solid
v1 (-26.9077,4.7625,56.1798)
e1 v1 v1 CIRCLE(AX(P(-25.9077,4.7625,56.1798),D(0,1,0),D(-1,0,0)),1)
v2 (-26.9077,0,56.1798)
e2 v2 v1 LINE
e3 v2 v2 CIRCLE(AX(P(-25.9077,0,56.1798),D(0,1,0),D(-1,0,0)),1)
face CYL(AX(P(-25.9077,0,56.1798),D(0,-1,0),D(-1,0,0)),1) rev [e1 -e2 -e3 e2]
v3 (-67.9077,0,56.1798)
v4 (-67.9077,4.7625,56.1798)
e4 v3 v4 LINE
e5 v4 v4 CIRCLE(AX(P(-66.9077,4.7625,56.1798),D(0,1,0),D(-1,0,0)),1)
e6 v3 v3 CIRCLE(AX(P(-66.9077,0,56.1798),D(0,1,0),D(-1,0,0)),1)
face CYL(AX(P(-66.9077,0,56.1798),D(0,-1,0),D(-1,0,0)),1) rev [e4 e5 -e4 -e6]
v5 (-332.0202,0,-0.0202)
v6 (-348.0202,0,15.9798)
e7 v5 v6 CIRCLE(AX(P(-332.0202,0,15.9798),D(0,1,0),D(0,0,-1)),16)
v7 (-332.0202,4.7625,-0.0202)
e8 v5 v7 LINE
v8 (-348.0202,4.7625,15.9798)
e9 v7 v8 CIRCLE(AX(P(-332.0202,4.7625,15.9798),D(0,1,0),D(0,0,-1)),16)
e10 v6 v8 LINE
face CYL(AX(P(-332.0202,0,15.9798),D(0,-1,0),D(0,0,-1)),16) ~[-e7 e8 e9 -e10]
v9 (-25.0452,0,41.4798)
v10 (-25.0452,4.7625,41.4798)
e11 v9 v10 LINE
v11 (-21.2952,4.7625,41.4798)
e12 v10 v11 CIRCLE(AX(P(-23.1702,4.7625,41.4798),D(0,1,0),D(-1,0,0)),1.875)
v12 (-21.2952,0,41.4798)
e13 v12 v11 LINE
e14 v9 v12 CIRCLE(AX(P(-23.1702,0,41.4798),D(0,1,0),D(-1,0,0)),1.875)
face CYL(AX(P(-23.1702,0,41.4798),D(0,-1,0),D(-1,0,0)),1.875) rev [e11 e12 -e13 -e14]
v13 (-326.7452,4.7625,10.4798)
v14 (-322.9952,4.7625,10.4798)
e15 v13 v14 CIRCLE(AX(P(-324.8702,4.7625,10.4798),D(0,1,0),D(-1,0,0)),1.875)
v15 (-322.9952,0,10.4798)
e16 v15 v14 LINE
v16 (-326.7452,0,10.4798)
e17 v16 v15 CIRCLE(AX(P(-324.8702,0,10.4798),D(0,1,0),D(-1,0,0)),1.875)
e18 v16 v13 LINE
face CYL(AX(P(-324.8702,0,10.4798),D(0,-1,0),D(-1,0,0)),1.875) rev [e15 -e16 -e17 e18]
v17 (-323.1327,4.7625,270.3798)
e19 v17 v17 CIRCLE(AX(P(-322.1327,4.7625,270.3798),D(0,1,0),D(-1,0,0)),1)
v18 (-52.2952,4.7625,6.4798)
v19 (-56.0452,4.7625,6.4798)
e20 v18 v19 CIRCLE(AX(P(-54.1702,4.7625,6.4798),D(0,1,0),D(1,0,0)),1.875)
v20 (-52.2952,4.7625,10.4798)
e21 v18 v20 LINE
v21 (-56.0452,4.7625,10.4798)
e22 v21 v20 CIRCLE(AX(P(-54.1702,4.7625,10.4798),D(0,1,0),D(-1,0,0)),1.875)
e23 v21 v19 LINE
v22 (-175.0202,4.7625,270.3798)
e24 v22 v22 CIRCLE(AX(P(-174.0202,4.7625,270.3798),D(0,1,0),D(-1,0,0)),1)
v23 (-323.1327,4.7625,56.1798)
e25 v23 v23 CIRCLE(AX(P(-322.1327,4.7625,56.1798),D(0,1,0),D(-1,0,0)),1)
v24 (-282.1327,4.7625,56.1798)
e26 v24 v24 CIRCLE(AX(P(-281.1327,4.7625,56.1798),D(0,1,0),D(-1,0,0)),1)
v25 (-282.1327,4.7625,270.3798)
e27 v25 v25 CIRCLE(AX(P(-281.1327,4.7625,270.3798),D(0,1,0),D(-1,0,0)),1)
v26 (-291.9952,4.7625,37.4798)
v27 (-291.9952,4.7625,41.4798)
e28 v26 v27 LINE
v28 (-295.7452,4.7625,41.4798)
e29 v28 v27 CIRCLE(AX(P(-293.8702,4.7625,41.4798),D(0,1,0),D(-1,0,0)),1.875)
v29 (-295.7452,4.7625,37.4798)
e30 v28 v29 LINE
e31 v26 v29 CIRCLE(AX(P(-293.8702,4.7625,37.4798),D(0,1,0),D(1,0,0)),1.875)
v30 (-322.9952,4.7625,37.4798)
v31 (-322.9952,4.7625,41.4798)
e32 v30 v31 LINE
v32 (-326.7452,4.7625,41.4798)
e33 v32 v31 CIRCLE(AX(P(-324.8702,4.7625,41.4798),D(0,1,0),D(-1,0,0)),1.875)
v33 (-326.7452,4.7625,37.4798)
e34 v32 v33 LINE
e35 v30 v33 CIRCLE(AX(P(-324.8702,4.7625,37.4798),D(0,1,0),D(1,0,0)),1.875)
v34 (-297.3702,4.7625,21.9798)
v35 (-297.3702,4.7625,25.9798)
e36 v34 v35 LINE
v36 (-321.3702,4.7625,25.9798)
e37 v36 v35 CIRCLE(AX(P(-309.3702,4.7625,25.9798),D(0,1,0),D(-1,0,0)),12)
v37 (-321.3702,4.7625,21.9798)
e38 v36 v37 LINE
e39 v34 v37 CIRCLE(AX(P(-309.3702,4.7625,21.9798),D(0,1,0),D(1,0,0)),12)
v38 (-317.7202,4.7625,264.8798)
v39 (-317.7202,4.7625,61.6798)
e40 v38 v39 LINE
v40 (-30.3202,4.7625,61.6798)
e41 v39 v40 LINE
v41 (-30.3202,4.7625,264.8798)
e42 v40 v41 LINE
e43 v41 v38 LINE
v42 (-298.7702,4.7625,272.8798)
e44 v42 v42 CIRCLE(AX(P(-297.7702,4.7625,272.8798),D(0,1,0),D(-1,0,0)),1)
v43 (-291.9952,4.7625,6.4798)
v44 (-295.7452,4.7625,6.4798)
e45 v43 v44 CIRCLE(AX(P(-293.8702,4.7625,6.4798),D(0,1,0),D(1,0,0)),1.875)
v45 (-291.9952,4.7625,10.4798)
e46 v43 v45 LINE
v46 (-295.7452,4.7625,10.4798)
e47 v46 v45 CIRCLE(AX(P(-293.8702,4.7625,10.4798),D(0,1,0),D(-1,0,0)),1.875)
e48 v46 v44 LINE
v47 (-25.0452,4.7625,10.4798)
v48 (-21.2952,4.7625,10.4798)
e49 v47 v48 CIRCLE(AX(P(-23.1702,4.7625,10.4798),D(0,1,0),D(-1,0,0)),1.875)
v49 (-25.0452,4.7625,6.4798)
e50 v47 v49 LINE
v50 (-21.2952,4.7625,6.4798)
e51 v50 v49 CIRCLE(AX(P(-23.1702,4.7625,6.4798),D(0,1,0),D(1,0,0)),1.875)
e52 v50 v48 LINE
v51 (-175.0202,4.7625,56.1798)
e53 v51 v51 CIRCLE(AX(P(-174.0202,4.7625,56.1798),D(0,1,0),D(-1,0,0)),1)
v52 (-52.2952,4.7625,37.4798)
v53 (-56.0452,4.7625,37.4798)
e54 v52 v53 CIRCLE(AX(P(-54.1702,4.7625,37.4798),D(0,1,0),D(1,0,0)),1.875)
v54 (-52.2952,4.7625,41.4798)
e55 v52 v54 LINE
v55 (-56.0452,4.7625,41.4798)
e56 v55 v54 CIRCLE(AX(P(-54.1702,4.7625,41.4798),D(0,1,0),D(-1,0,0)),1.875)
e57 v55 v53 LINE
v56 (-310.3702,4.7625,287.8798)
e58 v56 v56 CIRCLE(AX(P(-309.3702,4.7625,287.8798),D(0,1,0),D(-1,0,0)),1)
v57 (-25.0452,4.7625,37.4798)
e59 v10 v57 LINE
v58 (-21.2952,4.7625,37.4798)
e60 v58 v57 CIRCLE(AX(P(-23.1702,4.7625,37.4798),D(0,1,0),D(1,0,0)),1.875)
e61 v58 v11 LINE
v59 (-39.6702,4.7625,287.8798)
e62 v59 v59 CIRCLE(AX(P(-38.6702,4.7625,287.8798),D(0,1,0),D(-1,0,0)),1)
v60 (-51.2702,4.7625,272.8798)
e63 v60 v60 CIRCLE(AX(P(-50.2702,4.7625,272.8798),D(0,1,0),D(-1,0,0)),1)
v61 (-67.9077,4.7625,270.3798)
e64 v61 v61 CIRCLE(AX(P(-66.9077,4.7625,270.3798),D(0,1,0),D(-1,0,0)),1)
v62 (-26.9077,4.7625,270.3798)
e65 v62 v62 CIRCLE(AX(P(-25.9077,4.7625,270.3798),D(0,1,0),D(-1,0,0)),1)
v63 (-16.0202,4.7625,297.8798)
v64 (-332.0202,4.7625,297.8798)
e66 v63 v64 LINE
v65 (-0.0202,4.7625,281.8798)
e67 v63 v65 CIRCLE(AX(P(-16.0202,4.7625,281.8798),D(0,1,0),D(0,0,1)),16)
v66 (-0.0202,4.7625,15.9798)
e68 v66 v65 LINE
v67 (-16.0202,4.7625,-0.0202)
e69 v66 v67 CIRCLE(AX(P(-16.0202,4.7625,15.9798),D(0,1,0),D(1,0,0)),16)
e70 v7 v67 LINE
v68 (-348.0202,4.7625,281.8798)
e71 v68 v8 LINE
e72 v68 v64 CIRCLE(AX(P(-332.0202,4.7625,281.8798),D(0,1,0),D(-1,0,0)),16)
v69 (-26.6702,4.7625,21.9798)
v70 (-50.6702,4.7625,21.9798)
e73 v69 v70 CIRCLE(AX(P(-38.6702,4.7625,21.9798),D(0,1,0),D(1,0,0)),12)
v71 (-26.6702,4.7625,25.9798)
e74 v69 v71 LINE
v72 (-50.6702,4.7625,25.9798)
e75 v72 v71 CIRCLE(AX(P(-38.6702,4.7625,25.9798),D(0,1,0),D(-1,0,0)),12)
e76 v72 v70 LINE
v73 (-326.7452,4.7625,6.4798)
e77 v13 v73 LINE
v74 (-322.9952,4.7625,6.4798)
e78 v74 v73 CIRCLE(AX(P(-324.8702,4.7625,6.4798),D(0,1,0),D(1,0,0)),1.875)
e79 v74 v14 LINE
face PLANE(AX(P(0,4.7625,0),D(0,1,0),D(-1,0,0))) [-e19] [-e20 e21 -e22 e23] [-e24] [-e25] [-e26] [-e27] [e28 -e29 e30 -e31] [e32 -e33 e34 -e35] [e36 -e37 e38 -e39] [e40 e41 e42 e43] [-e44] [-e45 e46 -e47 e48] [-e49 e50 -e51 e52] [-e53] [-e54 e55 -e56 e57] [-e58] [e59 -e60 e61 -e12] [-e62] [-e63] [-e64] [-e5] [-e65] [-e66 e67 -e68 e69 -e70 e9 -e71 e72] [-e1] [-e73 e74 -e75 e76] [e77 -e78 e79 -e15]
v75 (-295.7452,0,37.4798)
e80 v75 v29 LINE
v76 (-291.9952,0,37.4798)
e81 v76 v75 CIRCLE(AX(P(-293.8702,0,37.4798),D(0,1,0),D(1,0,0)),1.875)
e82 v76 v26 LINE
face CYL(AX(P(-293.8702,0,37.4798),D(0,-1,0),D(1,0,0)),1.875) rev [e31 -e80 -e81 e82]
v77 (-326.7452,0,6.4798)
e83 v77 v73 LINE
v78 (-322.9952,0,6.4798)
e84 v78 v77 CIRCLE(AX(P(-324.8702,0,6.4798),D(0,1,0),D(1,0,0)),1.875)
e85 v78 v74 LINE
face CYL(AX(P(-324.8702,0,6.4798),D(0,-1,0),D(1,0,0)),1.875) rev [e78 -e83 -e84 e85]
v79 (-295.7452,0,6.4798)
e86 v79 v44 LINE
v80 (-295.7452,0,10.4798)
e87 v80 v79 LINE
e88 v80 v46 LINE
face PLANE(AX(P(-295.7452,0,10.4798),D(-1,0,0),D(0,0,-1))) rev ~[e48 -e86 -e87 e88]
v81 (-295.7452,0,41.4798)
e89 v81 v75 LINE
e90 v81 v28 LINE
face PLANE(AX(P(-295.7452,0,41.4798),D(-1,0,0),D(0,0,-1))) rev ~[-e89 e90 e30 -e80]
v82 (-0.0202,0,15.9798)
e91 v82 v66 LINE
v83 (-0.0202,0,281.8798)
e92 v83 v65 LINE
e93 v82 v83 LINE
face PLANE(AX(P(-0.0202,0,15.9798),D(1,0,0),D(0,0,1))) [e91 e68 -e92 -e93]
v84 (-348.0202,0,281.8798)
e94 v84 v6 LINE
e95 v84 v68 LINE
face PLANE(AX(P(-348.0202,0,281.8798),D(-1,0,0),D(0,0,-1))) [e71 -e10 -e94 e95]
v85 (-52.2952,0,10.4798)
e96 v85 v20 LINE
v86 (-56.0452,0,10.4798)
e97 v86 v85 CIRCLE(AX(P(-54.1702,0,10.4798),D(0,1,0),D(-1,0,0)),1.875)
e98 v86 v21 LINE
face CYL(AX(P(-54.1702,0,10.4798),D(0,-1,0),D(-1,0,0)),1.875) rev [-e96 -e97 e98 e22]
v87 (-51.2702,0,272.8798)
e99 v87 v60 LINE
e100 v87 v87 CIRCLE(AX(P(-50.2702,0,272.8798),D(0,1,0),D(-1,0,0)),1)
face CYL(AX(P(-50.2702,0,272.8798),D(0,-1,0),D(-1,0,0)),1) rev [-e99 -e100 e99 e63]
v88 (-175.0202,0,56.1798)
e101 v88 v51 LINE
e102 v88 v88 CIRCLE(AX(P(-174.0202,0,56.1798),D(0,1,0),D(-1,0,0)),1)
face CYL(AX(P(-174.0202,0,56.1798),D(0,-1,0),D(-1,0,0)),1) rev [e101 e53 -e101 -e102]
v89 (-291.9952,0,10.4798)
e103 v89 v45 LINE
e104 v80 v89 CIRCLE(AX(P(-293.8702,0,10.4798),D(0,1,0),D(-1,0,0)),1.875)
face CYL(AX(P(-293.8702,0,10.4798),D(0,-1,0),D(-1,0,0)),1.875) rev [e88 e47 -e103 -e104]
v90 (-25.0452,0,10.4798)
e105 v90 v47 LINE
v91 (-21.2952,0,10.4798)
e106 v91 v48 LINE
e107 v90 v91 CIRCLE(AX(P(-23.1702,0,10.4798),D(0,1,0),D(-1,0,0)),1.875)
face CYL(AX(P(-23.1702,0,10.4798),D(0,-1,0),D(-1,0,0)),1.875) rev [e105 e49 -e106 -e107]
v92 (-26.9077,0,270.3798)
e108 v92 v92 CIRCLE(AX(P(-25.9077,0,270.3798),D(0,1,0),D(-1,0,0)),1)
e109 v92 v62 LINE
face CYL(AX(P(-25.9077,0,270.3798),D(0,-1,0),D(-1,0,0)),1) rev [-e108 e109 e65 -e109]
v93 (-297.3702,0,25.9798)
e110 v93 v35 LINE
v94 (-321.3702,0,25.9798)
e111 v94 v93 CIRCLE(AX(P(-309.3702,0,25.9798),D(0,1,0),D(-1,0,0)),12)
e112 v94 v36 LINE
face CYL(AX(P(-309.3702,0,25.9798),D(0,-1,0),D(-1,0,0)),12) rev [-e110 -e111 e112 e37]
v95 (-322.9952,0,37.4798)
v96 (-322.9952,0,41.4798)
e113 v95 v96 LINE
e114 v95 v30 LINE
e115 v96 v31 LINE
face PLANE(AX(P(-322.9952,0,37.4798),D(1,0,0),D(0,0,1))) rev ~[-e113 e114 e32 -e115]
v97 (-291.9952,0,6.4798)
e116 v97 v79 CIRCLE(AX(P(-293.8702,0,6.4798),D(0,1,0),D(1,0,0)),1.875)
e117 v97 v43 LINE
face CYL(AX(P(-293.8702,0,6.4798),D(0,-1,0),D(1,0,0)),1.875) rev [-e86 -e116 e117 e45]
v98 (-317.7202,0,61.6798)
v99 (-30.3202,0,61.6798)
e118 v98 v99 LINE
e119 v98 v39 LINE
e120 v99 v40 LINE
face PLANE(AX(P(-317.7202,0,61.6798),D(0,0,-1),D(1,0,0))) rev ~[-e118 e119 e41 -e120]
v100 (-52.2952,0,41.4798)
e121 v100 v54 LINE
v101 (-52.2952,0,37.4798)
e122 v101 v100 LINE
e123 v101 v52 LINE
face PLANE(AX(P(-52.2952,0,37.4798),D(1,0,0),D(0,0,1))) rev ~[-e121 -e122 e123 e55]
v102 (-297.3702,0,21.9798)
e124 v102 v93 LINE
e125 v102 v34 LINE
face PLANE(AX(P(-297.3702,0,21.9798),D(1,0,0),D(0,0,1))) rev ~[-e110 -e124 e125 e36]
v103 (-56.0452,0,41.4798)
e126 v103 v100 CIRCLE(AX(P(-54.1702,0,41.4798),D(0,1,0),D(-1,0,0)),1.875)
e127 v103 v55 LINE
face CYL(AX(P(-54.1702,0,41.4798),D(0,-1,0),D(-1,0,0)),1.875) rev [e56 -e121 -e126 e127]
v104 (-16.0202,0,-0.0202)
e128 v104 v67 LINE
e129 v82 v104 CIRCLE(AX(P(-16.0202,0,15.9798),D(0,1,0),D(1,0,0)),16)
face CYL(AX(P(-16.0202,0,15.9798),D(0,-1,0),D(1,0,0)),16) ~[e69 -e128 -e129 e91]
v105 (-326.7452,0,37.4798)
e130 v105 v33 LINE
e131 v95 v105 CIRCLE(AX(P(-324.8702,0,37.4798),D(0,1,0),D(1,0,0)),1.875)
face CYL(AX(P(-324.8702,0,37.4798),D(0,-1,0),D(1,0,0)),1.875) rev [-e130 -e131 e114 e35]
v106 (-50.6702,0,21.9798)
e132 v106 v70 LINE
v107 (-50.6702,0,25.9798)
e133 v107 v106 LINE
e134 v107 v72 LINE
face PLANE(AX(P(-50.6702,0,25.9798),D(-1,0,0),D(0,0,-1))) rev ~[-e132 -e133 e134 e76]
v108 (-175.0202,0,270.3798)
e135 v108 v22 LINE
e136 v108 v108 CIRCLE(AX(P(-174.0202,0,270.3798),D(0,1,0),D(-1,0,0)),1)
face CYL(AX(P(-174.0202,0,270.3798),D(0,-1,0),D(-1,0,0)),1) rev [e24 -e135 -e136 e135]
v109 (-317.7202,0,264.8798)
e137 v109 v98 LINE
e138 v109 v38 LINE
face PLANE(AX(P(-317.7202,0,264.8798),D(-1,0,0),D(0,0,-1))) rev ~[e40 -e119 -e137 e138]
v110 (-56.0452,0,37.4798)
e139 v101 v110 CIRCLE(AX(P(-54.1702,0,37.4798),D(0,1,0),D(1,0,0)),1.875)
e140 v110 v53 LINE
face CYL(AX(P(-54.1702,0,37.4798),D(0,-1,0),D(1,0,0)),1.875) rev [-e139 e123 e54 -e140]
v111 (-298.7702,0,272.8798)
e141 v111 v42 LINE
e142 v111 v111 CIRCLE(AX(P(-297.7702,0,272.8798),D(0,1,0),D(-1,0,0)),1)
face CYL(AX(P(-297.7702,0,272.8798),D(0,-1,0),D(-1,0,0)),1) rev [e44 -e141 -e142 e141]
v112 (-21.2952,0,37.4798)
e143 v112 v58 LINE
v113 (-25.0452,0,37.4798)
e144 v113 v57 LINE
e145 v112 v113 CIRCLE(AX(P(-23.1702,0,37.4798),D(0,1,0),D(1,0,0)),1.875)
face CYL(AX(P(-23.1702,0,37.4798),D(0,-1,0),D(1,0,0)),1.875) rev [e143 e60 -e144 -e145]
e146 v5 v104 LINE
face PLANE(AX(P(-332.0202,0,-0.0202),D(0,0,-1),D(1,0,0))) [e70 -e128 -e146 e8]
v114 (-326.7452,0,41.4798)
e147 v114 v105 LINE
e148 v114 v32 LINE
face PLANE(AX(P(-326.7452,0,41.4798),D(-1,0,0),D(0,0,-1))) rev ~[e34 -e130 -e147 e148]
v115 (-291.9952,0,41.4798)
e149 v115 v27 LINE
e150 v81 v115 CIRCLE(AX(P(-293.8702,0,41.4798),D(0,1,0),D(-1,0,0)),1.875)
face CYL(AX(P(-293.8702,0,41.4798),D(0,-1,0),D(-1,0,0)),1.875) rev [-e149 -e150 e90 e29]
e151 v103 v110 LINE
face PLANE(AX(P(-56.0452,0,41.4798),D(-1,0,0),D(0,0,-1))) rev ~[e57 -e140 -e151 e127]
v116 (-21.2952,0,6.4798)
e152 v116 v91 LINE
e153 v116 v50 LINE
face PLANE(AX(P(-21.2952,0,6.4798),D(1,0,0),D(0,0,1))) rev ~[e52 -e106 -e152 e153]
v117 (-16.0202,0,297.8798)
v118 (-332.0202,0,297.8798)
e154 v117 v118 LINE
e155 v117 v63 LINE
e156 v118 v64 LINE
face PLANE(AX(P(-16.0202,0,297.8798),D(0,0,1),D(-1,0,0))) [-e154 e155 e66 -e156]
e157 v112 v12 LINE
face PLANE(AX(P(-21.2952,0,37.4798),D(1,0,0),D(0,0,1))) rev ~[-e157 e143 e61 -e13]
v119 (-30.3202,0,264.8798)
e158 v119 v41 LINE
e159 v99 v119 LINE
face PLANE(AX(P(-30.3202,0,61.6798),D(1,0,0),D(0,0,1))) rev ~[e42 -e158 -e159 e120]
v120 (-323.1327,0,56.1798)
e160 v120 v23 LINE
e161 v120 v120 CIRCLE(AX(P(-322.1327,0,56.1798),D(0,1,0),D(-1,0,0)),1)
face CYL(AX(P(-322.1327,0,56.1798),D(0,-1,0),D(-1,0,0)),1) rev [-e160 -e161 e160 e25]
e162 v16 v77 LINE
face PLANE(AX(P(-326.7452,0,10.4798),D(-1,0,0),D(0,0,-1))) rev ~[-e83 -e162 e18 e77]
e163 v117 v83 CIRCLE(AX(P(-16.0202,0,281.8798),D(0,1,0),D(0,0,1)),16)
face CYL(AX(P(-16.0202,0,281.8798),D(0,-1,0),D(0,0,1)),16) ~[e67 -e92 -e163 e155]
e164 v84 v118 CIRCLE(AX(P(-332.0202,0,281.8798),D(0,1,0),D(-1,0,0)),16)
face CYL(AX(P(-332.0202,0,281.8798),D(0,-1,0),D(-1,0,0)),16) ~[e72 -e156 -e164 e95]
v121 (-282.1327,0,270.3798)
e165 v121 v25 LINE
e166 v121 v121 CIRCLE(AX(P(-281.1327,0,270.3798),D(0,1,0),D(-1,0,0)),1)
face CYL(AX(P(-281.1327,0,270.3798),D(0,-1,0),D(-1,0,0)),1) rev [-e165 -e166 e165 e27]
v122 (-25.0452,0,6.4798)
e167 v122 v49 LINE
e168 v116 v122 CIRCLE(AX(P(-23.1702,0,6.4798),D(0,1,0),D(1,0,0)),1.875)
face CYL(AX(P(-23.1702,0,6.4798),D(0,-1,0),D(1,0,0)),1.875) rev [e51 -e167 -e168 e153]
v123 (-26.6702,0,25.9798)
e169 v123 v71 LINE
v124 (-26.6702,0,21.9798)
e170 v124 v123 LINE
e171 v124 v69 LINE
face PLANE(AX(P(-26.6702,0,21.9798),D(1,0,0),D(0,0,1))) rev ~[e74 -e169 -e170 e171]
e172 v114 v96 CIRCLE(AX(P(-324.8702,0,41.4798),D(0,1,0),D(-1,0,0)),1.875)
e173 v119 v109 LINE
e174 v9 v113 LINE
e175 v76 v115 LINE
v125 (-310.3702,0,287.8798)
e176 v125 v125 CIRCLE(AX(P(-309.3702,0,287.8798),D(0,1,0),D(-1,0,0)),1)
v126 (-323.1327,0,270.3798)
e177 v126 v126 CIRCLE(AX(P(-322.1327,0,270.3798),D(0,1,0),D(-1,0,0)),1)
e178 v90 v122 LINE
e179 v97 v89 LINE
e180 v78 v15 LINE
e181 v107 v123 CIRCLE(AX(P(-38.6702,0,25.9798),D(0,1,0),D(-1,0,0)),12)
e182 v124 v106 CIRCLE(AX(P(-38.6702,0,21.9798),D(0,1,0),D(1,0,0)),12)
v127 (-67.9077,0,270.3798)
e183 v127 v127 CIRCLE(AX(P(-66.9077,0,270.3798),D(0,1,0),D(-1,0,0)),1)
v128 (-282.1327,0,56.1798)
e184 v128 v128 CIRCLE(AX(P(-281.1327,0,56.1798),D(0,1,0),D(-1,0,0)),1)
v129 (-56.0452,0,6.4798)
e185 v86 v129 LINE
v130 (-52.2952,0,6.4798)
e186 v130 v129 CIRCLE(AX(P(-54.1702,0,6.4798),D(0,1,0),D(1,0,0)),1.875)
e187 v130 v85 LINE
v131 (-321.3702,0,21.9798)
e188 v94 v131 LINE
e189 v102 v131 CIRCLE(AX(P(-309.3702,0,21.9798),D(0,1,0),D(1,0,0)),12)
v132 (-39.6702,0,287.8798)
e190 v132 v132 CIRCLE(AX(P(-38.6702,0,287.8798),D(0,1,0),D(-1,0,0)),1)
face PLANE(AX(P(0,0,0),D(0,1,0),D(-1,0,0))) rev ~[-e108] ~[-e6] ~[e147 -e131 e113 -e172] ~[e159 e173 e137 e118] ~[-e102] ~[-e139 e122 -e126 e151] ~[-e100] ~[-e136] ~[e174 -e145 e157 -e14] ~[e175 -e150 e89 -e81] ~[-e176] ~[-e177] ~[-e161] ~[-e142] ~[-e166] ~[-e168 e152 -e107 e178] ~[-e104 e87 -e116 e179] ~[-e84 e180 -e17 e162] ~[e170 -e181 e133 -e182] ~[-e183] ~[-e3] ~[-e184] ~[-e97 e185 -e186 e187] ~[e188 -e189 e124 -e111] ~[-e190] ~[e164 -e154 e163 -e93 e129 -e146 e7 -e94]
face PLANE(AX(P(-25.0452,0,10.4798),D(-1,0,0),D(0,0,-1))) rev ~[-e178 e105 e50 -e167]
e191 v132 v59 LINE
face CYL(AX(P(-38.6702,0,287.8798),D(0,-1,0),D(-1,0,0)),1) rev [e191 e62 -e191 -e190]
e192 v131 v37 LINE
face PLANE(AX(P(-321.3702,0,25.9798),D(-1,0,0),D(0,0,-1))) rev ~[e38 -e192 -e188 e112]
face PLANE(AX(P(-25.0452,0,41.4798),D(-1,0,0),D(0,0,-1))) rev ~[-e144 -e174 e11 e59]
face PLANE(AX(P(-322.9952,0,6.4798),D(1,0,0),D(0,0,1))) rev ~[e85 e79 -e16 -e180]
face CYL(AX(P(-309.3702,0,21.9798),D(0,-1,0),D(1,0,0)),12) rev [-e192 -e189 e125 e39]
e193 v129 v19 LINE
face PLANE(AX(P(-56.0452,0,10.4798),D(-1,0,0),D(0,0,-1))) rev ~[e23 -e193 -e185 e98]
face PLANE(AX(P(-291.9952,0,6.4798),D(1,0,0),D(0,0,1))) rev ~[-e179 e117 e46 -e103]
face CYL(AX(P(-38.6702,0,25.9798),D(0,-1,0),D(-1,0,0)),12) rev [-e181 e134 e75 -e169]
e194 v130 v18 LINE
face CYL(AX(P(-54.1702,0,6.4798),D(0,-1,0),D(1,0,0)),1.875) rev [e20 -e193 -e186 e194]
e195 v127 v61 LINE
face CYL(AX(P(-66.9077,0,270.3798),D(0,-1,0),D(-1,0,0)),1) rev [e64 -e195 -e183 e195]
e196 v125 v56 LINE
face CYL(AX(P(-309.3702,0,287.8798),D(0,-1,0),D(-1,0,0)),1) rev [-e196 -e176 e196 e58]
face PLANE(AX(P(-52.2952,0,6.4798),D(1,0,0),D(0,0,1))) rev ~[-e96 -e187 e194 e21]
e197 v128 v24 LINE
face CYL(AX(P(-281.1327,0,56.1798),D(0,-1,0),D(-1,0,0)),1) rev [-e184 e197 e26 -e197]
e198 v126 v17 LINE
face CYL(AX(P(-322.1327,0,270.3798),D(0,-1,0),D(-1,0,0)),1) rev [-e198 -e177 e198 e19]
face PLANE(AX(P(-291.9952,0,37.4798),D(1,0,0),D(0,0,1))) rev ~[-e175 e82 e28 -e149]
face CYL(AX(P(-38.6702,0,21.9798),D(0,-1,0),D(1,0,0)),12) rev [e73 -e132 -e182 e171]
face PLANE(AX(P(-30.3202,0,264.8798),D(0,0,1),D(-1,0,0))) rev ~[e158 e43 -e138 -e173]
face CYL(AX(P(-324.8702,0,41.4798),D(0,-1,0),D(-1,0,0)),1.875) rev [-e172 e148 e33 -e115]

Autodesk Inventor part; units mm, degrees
ref_plane "YZ Plane" through (0, 0, 0) normal (1, 0, 0) x (0, 1, 0)
ref_plane "XZ Plane" through (0, 0, 0) normal (0, 1, 0) x (-1, 0, 0)
ref_plane "XY Plane" through (0, 0, 0) normal (0, 0, 1) x (1, 0, 0)
sketch "Sketch1" plane through (0, 0, 0) normal (0, 1, 0) x (-1, 0, 0)
  line L0 (317.7202, 61.6798) -> (30.3202, 61.6798)
  line L1 (317.7202, 264.8798) -> (317.7202, 61.6798)
  line L2 (30.3202, 264.8798) -> (317.7202, 264.8798)
  line L3 (30.3202, 61.6798) -> (30.3202, 264.8798)
  arc A0 (0.0202, 15.9798) -> (16.0202, -0.0202) centre (16.0202, 15.9798) ccw
  line L4 (0.0202, 15.9798) -> (0.0202, 281.8798)
  arc A1 (16.0202, 297.8798) -> (0.0202, 281.8798) centre (16.0202, 281.8798) ccw
  line L5 (16.0202, 297.8798) -> (332.0202, 297.8798)
  arc A2 (348.0202, 281.8798) -> (332.0202, 297.8798) centre (332.0202, 281.8798) ccw
  line L6 (348.0202, 281.8798) -> (348.0202, 15.9798)
  arc A3 (332.0202, -0.0202) -> (348.0202, 15.9798) centre (332.0202, 15.9798) ccw
  line L7 (332.0202, -0.0202) -> (16.0202, -0.0202)
  arc A4 (21.2952, 6.4798) -> (25.0452, 6.4798) centre (23.1702, 6.4798) ccw
  line L8 (25.0452, 10.4798) -> (25.0452, 6.4798)
  arc A5 (25.0452, 10.4798) -> (21.2952, 10.4798) centre (23.1702, 10.4798) ccw
  line L9 (21.2952, 6.4798) -> (21.2952, 10.4798)
  arc A6 (52.2952, 6.4798) -> (56.0452, 6.4798) centre (54.1702, 6.4798) ccw
  line L10 (56.0452, 10.4798) -> (56.0452, 6.4798)
  arc A7 (56.0452, 10.4798) -> (52.2952, 10.4798) centre (54.1702, 10.4798) ccw
  line L11 (52.2952, 6.4798) -> (52.2952, 10.4798)
  arc A8 (21.2952, 37.4798) -> (25.0452, 37.4798) centre (23.1702, 37.4798) ccw
  line L12 (25.0452, 41.4798) -> (25.0452, 37.4798)
  arc A9 (25.0452, 41.4798) -> (21.2952, 41.4798) centre (23.1702, 41.4798) ccw
  line L13 (21.2952, 37.4798) -> (21.2952, 41.4798)
  arc A10 (52.2952, 37.4798) -> (56.0452, 37.4798) centre (54.1702, 37.4798) ccw
  line L14 (56.0452, 41.4798) -> (56.0452, 37.4798)
  arc A11 (56.0452, 41.4798) -> (52.2952, 41.4798) centre (54.1702, 41.4798) ccw
  line L15 (52.2952, 37.4798) -> (52.2952, 41.4798)
  arc A12 (26.6702, 21.9798) -> (50.6702, 21.9798) centre (38.6702, 21.9798) ccw
  line L16 (50.6702, 25.9798) -> (50.6702, 21.9798)
  arc A13 (50.6702, 25.9798) -> (26.6702, 25.9798) centre (38.6702, 25.9798) ccw
  line L17 (26.6702, 21.9798) -> (26.6702, 25.9798)
  arc A14 (291.9952, 6.4798) -> (295.7452, 6.4798) centre (293.8702, 6.4798) ccw
  line L18 (295.7452, 10.4798) -> (295.7452, 6.4798)
  arc A15 (295.7452, 10.4798) -> (291.9952, 10.4798) centre (293.8702, 10.4798) ccw
  line L19 (291.9952, 6.4798) -> (291.9952, 10.4798)
  arc A16 (322.9952, 6.4798) -> (326.7452, 6.4798) centre (324.8702, 6.4798) ccw
  line L20 (326.7452, 10.4798) -> (326.7452, 6.4798)
  line L21 (322.9952, 6.4798) -> (322.9952, 10.4798)
  arc A17 (322.9952, 37.4798) -> (326.7452, 37.4798) centre (324.8702, 37.4798) ccw
  line L22 (326.7452, 41.4798) -> (326.7452, 37.4798)
  arc A18 (326.7452, 41.4798) -> (322.9952, 41.4798) centre (324.8702, 41.4798) ccw
  line L23 (322.9952, 37.4798) -> (322.9952, 41.4798)
  arc A19 (291.9952, 37.4798) -> (295.7452, 37.4798) centre (293.8702, 37.4798) ccw
  line L24 (295.7452, 41.4798) -> (295.7452, 37.4798)
  arc A20 (295.7452, 41.4798) -> (291.9952, 41.4798) centre (293.8702, 41.4798) ccw
  line L25 (291.9952, 37.4798) -> (291.9952, 41.4798)
  arc A21 (297.3702, 21.9798) -> (321.3702, 21.9798) centre (309.3702, 21.9798) ccw
  line L26 (321.3702, 25.9798) -> (321.3702, 21.9798)
  arc A22 (321.3702, 25.9798) -> (297.3702, 25.9798) centre (309.3702, 25.9798) ccw
  line L27 (297.3702, 21.9798) -> (297.3702, 25.9798)
  circle A23 centre (50.2702, 272.8798) radius 1
  circle A24 centre (38.6702, 287.8798) radius 1
  circle A25 centre (309.3702, 287.8798) radius 1
  circle A26 centre (297.7702, 272.8798) radius 1
  circle A27 centre (25.9077, 270.3798) radius 1
  circle A28 centre (66.9077, 270.3798) radius 1
  circle A29 centre (174.0202, 270.3798) radius 1
  circle A30 centre (281.1327, 270.3798) radius 1
  circle A31 centre (322.1327, 270.3798) radius 1
  circle A32 centre (322.1327, 56.1798) radius 1
  circle A33 centre (281.1327, 56.1798) radius 1
  circle A34 centre (174.0202, 56.1798) radius 1
  circle A35 centre (66.9077, 56.1798) radius 1
  circle A36 centre (25.9077, 56.1798) radius 1
  arc A37 (326.7452, 10.4798) -> (322.9952, 10.4798) centre (324.8702, 10.4798) ccw
  point P0 (0, 0)
extrude "Extrusion1" add sketch "Sketch1" along normal blind 4.7625
properties part number "core xy plate"
